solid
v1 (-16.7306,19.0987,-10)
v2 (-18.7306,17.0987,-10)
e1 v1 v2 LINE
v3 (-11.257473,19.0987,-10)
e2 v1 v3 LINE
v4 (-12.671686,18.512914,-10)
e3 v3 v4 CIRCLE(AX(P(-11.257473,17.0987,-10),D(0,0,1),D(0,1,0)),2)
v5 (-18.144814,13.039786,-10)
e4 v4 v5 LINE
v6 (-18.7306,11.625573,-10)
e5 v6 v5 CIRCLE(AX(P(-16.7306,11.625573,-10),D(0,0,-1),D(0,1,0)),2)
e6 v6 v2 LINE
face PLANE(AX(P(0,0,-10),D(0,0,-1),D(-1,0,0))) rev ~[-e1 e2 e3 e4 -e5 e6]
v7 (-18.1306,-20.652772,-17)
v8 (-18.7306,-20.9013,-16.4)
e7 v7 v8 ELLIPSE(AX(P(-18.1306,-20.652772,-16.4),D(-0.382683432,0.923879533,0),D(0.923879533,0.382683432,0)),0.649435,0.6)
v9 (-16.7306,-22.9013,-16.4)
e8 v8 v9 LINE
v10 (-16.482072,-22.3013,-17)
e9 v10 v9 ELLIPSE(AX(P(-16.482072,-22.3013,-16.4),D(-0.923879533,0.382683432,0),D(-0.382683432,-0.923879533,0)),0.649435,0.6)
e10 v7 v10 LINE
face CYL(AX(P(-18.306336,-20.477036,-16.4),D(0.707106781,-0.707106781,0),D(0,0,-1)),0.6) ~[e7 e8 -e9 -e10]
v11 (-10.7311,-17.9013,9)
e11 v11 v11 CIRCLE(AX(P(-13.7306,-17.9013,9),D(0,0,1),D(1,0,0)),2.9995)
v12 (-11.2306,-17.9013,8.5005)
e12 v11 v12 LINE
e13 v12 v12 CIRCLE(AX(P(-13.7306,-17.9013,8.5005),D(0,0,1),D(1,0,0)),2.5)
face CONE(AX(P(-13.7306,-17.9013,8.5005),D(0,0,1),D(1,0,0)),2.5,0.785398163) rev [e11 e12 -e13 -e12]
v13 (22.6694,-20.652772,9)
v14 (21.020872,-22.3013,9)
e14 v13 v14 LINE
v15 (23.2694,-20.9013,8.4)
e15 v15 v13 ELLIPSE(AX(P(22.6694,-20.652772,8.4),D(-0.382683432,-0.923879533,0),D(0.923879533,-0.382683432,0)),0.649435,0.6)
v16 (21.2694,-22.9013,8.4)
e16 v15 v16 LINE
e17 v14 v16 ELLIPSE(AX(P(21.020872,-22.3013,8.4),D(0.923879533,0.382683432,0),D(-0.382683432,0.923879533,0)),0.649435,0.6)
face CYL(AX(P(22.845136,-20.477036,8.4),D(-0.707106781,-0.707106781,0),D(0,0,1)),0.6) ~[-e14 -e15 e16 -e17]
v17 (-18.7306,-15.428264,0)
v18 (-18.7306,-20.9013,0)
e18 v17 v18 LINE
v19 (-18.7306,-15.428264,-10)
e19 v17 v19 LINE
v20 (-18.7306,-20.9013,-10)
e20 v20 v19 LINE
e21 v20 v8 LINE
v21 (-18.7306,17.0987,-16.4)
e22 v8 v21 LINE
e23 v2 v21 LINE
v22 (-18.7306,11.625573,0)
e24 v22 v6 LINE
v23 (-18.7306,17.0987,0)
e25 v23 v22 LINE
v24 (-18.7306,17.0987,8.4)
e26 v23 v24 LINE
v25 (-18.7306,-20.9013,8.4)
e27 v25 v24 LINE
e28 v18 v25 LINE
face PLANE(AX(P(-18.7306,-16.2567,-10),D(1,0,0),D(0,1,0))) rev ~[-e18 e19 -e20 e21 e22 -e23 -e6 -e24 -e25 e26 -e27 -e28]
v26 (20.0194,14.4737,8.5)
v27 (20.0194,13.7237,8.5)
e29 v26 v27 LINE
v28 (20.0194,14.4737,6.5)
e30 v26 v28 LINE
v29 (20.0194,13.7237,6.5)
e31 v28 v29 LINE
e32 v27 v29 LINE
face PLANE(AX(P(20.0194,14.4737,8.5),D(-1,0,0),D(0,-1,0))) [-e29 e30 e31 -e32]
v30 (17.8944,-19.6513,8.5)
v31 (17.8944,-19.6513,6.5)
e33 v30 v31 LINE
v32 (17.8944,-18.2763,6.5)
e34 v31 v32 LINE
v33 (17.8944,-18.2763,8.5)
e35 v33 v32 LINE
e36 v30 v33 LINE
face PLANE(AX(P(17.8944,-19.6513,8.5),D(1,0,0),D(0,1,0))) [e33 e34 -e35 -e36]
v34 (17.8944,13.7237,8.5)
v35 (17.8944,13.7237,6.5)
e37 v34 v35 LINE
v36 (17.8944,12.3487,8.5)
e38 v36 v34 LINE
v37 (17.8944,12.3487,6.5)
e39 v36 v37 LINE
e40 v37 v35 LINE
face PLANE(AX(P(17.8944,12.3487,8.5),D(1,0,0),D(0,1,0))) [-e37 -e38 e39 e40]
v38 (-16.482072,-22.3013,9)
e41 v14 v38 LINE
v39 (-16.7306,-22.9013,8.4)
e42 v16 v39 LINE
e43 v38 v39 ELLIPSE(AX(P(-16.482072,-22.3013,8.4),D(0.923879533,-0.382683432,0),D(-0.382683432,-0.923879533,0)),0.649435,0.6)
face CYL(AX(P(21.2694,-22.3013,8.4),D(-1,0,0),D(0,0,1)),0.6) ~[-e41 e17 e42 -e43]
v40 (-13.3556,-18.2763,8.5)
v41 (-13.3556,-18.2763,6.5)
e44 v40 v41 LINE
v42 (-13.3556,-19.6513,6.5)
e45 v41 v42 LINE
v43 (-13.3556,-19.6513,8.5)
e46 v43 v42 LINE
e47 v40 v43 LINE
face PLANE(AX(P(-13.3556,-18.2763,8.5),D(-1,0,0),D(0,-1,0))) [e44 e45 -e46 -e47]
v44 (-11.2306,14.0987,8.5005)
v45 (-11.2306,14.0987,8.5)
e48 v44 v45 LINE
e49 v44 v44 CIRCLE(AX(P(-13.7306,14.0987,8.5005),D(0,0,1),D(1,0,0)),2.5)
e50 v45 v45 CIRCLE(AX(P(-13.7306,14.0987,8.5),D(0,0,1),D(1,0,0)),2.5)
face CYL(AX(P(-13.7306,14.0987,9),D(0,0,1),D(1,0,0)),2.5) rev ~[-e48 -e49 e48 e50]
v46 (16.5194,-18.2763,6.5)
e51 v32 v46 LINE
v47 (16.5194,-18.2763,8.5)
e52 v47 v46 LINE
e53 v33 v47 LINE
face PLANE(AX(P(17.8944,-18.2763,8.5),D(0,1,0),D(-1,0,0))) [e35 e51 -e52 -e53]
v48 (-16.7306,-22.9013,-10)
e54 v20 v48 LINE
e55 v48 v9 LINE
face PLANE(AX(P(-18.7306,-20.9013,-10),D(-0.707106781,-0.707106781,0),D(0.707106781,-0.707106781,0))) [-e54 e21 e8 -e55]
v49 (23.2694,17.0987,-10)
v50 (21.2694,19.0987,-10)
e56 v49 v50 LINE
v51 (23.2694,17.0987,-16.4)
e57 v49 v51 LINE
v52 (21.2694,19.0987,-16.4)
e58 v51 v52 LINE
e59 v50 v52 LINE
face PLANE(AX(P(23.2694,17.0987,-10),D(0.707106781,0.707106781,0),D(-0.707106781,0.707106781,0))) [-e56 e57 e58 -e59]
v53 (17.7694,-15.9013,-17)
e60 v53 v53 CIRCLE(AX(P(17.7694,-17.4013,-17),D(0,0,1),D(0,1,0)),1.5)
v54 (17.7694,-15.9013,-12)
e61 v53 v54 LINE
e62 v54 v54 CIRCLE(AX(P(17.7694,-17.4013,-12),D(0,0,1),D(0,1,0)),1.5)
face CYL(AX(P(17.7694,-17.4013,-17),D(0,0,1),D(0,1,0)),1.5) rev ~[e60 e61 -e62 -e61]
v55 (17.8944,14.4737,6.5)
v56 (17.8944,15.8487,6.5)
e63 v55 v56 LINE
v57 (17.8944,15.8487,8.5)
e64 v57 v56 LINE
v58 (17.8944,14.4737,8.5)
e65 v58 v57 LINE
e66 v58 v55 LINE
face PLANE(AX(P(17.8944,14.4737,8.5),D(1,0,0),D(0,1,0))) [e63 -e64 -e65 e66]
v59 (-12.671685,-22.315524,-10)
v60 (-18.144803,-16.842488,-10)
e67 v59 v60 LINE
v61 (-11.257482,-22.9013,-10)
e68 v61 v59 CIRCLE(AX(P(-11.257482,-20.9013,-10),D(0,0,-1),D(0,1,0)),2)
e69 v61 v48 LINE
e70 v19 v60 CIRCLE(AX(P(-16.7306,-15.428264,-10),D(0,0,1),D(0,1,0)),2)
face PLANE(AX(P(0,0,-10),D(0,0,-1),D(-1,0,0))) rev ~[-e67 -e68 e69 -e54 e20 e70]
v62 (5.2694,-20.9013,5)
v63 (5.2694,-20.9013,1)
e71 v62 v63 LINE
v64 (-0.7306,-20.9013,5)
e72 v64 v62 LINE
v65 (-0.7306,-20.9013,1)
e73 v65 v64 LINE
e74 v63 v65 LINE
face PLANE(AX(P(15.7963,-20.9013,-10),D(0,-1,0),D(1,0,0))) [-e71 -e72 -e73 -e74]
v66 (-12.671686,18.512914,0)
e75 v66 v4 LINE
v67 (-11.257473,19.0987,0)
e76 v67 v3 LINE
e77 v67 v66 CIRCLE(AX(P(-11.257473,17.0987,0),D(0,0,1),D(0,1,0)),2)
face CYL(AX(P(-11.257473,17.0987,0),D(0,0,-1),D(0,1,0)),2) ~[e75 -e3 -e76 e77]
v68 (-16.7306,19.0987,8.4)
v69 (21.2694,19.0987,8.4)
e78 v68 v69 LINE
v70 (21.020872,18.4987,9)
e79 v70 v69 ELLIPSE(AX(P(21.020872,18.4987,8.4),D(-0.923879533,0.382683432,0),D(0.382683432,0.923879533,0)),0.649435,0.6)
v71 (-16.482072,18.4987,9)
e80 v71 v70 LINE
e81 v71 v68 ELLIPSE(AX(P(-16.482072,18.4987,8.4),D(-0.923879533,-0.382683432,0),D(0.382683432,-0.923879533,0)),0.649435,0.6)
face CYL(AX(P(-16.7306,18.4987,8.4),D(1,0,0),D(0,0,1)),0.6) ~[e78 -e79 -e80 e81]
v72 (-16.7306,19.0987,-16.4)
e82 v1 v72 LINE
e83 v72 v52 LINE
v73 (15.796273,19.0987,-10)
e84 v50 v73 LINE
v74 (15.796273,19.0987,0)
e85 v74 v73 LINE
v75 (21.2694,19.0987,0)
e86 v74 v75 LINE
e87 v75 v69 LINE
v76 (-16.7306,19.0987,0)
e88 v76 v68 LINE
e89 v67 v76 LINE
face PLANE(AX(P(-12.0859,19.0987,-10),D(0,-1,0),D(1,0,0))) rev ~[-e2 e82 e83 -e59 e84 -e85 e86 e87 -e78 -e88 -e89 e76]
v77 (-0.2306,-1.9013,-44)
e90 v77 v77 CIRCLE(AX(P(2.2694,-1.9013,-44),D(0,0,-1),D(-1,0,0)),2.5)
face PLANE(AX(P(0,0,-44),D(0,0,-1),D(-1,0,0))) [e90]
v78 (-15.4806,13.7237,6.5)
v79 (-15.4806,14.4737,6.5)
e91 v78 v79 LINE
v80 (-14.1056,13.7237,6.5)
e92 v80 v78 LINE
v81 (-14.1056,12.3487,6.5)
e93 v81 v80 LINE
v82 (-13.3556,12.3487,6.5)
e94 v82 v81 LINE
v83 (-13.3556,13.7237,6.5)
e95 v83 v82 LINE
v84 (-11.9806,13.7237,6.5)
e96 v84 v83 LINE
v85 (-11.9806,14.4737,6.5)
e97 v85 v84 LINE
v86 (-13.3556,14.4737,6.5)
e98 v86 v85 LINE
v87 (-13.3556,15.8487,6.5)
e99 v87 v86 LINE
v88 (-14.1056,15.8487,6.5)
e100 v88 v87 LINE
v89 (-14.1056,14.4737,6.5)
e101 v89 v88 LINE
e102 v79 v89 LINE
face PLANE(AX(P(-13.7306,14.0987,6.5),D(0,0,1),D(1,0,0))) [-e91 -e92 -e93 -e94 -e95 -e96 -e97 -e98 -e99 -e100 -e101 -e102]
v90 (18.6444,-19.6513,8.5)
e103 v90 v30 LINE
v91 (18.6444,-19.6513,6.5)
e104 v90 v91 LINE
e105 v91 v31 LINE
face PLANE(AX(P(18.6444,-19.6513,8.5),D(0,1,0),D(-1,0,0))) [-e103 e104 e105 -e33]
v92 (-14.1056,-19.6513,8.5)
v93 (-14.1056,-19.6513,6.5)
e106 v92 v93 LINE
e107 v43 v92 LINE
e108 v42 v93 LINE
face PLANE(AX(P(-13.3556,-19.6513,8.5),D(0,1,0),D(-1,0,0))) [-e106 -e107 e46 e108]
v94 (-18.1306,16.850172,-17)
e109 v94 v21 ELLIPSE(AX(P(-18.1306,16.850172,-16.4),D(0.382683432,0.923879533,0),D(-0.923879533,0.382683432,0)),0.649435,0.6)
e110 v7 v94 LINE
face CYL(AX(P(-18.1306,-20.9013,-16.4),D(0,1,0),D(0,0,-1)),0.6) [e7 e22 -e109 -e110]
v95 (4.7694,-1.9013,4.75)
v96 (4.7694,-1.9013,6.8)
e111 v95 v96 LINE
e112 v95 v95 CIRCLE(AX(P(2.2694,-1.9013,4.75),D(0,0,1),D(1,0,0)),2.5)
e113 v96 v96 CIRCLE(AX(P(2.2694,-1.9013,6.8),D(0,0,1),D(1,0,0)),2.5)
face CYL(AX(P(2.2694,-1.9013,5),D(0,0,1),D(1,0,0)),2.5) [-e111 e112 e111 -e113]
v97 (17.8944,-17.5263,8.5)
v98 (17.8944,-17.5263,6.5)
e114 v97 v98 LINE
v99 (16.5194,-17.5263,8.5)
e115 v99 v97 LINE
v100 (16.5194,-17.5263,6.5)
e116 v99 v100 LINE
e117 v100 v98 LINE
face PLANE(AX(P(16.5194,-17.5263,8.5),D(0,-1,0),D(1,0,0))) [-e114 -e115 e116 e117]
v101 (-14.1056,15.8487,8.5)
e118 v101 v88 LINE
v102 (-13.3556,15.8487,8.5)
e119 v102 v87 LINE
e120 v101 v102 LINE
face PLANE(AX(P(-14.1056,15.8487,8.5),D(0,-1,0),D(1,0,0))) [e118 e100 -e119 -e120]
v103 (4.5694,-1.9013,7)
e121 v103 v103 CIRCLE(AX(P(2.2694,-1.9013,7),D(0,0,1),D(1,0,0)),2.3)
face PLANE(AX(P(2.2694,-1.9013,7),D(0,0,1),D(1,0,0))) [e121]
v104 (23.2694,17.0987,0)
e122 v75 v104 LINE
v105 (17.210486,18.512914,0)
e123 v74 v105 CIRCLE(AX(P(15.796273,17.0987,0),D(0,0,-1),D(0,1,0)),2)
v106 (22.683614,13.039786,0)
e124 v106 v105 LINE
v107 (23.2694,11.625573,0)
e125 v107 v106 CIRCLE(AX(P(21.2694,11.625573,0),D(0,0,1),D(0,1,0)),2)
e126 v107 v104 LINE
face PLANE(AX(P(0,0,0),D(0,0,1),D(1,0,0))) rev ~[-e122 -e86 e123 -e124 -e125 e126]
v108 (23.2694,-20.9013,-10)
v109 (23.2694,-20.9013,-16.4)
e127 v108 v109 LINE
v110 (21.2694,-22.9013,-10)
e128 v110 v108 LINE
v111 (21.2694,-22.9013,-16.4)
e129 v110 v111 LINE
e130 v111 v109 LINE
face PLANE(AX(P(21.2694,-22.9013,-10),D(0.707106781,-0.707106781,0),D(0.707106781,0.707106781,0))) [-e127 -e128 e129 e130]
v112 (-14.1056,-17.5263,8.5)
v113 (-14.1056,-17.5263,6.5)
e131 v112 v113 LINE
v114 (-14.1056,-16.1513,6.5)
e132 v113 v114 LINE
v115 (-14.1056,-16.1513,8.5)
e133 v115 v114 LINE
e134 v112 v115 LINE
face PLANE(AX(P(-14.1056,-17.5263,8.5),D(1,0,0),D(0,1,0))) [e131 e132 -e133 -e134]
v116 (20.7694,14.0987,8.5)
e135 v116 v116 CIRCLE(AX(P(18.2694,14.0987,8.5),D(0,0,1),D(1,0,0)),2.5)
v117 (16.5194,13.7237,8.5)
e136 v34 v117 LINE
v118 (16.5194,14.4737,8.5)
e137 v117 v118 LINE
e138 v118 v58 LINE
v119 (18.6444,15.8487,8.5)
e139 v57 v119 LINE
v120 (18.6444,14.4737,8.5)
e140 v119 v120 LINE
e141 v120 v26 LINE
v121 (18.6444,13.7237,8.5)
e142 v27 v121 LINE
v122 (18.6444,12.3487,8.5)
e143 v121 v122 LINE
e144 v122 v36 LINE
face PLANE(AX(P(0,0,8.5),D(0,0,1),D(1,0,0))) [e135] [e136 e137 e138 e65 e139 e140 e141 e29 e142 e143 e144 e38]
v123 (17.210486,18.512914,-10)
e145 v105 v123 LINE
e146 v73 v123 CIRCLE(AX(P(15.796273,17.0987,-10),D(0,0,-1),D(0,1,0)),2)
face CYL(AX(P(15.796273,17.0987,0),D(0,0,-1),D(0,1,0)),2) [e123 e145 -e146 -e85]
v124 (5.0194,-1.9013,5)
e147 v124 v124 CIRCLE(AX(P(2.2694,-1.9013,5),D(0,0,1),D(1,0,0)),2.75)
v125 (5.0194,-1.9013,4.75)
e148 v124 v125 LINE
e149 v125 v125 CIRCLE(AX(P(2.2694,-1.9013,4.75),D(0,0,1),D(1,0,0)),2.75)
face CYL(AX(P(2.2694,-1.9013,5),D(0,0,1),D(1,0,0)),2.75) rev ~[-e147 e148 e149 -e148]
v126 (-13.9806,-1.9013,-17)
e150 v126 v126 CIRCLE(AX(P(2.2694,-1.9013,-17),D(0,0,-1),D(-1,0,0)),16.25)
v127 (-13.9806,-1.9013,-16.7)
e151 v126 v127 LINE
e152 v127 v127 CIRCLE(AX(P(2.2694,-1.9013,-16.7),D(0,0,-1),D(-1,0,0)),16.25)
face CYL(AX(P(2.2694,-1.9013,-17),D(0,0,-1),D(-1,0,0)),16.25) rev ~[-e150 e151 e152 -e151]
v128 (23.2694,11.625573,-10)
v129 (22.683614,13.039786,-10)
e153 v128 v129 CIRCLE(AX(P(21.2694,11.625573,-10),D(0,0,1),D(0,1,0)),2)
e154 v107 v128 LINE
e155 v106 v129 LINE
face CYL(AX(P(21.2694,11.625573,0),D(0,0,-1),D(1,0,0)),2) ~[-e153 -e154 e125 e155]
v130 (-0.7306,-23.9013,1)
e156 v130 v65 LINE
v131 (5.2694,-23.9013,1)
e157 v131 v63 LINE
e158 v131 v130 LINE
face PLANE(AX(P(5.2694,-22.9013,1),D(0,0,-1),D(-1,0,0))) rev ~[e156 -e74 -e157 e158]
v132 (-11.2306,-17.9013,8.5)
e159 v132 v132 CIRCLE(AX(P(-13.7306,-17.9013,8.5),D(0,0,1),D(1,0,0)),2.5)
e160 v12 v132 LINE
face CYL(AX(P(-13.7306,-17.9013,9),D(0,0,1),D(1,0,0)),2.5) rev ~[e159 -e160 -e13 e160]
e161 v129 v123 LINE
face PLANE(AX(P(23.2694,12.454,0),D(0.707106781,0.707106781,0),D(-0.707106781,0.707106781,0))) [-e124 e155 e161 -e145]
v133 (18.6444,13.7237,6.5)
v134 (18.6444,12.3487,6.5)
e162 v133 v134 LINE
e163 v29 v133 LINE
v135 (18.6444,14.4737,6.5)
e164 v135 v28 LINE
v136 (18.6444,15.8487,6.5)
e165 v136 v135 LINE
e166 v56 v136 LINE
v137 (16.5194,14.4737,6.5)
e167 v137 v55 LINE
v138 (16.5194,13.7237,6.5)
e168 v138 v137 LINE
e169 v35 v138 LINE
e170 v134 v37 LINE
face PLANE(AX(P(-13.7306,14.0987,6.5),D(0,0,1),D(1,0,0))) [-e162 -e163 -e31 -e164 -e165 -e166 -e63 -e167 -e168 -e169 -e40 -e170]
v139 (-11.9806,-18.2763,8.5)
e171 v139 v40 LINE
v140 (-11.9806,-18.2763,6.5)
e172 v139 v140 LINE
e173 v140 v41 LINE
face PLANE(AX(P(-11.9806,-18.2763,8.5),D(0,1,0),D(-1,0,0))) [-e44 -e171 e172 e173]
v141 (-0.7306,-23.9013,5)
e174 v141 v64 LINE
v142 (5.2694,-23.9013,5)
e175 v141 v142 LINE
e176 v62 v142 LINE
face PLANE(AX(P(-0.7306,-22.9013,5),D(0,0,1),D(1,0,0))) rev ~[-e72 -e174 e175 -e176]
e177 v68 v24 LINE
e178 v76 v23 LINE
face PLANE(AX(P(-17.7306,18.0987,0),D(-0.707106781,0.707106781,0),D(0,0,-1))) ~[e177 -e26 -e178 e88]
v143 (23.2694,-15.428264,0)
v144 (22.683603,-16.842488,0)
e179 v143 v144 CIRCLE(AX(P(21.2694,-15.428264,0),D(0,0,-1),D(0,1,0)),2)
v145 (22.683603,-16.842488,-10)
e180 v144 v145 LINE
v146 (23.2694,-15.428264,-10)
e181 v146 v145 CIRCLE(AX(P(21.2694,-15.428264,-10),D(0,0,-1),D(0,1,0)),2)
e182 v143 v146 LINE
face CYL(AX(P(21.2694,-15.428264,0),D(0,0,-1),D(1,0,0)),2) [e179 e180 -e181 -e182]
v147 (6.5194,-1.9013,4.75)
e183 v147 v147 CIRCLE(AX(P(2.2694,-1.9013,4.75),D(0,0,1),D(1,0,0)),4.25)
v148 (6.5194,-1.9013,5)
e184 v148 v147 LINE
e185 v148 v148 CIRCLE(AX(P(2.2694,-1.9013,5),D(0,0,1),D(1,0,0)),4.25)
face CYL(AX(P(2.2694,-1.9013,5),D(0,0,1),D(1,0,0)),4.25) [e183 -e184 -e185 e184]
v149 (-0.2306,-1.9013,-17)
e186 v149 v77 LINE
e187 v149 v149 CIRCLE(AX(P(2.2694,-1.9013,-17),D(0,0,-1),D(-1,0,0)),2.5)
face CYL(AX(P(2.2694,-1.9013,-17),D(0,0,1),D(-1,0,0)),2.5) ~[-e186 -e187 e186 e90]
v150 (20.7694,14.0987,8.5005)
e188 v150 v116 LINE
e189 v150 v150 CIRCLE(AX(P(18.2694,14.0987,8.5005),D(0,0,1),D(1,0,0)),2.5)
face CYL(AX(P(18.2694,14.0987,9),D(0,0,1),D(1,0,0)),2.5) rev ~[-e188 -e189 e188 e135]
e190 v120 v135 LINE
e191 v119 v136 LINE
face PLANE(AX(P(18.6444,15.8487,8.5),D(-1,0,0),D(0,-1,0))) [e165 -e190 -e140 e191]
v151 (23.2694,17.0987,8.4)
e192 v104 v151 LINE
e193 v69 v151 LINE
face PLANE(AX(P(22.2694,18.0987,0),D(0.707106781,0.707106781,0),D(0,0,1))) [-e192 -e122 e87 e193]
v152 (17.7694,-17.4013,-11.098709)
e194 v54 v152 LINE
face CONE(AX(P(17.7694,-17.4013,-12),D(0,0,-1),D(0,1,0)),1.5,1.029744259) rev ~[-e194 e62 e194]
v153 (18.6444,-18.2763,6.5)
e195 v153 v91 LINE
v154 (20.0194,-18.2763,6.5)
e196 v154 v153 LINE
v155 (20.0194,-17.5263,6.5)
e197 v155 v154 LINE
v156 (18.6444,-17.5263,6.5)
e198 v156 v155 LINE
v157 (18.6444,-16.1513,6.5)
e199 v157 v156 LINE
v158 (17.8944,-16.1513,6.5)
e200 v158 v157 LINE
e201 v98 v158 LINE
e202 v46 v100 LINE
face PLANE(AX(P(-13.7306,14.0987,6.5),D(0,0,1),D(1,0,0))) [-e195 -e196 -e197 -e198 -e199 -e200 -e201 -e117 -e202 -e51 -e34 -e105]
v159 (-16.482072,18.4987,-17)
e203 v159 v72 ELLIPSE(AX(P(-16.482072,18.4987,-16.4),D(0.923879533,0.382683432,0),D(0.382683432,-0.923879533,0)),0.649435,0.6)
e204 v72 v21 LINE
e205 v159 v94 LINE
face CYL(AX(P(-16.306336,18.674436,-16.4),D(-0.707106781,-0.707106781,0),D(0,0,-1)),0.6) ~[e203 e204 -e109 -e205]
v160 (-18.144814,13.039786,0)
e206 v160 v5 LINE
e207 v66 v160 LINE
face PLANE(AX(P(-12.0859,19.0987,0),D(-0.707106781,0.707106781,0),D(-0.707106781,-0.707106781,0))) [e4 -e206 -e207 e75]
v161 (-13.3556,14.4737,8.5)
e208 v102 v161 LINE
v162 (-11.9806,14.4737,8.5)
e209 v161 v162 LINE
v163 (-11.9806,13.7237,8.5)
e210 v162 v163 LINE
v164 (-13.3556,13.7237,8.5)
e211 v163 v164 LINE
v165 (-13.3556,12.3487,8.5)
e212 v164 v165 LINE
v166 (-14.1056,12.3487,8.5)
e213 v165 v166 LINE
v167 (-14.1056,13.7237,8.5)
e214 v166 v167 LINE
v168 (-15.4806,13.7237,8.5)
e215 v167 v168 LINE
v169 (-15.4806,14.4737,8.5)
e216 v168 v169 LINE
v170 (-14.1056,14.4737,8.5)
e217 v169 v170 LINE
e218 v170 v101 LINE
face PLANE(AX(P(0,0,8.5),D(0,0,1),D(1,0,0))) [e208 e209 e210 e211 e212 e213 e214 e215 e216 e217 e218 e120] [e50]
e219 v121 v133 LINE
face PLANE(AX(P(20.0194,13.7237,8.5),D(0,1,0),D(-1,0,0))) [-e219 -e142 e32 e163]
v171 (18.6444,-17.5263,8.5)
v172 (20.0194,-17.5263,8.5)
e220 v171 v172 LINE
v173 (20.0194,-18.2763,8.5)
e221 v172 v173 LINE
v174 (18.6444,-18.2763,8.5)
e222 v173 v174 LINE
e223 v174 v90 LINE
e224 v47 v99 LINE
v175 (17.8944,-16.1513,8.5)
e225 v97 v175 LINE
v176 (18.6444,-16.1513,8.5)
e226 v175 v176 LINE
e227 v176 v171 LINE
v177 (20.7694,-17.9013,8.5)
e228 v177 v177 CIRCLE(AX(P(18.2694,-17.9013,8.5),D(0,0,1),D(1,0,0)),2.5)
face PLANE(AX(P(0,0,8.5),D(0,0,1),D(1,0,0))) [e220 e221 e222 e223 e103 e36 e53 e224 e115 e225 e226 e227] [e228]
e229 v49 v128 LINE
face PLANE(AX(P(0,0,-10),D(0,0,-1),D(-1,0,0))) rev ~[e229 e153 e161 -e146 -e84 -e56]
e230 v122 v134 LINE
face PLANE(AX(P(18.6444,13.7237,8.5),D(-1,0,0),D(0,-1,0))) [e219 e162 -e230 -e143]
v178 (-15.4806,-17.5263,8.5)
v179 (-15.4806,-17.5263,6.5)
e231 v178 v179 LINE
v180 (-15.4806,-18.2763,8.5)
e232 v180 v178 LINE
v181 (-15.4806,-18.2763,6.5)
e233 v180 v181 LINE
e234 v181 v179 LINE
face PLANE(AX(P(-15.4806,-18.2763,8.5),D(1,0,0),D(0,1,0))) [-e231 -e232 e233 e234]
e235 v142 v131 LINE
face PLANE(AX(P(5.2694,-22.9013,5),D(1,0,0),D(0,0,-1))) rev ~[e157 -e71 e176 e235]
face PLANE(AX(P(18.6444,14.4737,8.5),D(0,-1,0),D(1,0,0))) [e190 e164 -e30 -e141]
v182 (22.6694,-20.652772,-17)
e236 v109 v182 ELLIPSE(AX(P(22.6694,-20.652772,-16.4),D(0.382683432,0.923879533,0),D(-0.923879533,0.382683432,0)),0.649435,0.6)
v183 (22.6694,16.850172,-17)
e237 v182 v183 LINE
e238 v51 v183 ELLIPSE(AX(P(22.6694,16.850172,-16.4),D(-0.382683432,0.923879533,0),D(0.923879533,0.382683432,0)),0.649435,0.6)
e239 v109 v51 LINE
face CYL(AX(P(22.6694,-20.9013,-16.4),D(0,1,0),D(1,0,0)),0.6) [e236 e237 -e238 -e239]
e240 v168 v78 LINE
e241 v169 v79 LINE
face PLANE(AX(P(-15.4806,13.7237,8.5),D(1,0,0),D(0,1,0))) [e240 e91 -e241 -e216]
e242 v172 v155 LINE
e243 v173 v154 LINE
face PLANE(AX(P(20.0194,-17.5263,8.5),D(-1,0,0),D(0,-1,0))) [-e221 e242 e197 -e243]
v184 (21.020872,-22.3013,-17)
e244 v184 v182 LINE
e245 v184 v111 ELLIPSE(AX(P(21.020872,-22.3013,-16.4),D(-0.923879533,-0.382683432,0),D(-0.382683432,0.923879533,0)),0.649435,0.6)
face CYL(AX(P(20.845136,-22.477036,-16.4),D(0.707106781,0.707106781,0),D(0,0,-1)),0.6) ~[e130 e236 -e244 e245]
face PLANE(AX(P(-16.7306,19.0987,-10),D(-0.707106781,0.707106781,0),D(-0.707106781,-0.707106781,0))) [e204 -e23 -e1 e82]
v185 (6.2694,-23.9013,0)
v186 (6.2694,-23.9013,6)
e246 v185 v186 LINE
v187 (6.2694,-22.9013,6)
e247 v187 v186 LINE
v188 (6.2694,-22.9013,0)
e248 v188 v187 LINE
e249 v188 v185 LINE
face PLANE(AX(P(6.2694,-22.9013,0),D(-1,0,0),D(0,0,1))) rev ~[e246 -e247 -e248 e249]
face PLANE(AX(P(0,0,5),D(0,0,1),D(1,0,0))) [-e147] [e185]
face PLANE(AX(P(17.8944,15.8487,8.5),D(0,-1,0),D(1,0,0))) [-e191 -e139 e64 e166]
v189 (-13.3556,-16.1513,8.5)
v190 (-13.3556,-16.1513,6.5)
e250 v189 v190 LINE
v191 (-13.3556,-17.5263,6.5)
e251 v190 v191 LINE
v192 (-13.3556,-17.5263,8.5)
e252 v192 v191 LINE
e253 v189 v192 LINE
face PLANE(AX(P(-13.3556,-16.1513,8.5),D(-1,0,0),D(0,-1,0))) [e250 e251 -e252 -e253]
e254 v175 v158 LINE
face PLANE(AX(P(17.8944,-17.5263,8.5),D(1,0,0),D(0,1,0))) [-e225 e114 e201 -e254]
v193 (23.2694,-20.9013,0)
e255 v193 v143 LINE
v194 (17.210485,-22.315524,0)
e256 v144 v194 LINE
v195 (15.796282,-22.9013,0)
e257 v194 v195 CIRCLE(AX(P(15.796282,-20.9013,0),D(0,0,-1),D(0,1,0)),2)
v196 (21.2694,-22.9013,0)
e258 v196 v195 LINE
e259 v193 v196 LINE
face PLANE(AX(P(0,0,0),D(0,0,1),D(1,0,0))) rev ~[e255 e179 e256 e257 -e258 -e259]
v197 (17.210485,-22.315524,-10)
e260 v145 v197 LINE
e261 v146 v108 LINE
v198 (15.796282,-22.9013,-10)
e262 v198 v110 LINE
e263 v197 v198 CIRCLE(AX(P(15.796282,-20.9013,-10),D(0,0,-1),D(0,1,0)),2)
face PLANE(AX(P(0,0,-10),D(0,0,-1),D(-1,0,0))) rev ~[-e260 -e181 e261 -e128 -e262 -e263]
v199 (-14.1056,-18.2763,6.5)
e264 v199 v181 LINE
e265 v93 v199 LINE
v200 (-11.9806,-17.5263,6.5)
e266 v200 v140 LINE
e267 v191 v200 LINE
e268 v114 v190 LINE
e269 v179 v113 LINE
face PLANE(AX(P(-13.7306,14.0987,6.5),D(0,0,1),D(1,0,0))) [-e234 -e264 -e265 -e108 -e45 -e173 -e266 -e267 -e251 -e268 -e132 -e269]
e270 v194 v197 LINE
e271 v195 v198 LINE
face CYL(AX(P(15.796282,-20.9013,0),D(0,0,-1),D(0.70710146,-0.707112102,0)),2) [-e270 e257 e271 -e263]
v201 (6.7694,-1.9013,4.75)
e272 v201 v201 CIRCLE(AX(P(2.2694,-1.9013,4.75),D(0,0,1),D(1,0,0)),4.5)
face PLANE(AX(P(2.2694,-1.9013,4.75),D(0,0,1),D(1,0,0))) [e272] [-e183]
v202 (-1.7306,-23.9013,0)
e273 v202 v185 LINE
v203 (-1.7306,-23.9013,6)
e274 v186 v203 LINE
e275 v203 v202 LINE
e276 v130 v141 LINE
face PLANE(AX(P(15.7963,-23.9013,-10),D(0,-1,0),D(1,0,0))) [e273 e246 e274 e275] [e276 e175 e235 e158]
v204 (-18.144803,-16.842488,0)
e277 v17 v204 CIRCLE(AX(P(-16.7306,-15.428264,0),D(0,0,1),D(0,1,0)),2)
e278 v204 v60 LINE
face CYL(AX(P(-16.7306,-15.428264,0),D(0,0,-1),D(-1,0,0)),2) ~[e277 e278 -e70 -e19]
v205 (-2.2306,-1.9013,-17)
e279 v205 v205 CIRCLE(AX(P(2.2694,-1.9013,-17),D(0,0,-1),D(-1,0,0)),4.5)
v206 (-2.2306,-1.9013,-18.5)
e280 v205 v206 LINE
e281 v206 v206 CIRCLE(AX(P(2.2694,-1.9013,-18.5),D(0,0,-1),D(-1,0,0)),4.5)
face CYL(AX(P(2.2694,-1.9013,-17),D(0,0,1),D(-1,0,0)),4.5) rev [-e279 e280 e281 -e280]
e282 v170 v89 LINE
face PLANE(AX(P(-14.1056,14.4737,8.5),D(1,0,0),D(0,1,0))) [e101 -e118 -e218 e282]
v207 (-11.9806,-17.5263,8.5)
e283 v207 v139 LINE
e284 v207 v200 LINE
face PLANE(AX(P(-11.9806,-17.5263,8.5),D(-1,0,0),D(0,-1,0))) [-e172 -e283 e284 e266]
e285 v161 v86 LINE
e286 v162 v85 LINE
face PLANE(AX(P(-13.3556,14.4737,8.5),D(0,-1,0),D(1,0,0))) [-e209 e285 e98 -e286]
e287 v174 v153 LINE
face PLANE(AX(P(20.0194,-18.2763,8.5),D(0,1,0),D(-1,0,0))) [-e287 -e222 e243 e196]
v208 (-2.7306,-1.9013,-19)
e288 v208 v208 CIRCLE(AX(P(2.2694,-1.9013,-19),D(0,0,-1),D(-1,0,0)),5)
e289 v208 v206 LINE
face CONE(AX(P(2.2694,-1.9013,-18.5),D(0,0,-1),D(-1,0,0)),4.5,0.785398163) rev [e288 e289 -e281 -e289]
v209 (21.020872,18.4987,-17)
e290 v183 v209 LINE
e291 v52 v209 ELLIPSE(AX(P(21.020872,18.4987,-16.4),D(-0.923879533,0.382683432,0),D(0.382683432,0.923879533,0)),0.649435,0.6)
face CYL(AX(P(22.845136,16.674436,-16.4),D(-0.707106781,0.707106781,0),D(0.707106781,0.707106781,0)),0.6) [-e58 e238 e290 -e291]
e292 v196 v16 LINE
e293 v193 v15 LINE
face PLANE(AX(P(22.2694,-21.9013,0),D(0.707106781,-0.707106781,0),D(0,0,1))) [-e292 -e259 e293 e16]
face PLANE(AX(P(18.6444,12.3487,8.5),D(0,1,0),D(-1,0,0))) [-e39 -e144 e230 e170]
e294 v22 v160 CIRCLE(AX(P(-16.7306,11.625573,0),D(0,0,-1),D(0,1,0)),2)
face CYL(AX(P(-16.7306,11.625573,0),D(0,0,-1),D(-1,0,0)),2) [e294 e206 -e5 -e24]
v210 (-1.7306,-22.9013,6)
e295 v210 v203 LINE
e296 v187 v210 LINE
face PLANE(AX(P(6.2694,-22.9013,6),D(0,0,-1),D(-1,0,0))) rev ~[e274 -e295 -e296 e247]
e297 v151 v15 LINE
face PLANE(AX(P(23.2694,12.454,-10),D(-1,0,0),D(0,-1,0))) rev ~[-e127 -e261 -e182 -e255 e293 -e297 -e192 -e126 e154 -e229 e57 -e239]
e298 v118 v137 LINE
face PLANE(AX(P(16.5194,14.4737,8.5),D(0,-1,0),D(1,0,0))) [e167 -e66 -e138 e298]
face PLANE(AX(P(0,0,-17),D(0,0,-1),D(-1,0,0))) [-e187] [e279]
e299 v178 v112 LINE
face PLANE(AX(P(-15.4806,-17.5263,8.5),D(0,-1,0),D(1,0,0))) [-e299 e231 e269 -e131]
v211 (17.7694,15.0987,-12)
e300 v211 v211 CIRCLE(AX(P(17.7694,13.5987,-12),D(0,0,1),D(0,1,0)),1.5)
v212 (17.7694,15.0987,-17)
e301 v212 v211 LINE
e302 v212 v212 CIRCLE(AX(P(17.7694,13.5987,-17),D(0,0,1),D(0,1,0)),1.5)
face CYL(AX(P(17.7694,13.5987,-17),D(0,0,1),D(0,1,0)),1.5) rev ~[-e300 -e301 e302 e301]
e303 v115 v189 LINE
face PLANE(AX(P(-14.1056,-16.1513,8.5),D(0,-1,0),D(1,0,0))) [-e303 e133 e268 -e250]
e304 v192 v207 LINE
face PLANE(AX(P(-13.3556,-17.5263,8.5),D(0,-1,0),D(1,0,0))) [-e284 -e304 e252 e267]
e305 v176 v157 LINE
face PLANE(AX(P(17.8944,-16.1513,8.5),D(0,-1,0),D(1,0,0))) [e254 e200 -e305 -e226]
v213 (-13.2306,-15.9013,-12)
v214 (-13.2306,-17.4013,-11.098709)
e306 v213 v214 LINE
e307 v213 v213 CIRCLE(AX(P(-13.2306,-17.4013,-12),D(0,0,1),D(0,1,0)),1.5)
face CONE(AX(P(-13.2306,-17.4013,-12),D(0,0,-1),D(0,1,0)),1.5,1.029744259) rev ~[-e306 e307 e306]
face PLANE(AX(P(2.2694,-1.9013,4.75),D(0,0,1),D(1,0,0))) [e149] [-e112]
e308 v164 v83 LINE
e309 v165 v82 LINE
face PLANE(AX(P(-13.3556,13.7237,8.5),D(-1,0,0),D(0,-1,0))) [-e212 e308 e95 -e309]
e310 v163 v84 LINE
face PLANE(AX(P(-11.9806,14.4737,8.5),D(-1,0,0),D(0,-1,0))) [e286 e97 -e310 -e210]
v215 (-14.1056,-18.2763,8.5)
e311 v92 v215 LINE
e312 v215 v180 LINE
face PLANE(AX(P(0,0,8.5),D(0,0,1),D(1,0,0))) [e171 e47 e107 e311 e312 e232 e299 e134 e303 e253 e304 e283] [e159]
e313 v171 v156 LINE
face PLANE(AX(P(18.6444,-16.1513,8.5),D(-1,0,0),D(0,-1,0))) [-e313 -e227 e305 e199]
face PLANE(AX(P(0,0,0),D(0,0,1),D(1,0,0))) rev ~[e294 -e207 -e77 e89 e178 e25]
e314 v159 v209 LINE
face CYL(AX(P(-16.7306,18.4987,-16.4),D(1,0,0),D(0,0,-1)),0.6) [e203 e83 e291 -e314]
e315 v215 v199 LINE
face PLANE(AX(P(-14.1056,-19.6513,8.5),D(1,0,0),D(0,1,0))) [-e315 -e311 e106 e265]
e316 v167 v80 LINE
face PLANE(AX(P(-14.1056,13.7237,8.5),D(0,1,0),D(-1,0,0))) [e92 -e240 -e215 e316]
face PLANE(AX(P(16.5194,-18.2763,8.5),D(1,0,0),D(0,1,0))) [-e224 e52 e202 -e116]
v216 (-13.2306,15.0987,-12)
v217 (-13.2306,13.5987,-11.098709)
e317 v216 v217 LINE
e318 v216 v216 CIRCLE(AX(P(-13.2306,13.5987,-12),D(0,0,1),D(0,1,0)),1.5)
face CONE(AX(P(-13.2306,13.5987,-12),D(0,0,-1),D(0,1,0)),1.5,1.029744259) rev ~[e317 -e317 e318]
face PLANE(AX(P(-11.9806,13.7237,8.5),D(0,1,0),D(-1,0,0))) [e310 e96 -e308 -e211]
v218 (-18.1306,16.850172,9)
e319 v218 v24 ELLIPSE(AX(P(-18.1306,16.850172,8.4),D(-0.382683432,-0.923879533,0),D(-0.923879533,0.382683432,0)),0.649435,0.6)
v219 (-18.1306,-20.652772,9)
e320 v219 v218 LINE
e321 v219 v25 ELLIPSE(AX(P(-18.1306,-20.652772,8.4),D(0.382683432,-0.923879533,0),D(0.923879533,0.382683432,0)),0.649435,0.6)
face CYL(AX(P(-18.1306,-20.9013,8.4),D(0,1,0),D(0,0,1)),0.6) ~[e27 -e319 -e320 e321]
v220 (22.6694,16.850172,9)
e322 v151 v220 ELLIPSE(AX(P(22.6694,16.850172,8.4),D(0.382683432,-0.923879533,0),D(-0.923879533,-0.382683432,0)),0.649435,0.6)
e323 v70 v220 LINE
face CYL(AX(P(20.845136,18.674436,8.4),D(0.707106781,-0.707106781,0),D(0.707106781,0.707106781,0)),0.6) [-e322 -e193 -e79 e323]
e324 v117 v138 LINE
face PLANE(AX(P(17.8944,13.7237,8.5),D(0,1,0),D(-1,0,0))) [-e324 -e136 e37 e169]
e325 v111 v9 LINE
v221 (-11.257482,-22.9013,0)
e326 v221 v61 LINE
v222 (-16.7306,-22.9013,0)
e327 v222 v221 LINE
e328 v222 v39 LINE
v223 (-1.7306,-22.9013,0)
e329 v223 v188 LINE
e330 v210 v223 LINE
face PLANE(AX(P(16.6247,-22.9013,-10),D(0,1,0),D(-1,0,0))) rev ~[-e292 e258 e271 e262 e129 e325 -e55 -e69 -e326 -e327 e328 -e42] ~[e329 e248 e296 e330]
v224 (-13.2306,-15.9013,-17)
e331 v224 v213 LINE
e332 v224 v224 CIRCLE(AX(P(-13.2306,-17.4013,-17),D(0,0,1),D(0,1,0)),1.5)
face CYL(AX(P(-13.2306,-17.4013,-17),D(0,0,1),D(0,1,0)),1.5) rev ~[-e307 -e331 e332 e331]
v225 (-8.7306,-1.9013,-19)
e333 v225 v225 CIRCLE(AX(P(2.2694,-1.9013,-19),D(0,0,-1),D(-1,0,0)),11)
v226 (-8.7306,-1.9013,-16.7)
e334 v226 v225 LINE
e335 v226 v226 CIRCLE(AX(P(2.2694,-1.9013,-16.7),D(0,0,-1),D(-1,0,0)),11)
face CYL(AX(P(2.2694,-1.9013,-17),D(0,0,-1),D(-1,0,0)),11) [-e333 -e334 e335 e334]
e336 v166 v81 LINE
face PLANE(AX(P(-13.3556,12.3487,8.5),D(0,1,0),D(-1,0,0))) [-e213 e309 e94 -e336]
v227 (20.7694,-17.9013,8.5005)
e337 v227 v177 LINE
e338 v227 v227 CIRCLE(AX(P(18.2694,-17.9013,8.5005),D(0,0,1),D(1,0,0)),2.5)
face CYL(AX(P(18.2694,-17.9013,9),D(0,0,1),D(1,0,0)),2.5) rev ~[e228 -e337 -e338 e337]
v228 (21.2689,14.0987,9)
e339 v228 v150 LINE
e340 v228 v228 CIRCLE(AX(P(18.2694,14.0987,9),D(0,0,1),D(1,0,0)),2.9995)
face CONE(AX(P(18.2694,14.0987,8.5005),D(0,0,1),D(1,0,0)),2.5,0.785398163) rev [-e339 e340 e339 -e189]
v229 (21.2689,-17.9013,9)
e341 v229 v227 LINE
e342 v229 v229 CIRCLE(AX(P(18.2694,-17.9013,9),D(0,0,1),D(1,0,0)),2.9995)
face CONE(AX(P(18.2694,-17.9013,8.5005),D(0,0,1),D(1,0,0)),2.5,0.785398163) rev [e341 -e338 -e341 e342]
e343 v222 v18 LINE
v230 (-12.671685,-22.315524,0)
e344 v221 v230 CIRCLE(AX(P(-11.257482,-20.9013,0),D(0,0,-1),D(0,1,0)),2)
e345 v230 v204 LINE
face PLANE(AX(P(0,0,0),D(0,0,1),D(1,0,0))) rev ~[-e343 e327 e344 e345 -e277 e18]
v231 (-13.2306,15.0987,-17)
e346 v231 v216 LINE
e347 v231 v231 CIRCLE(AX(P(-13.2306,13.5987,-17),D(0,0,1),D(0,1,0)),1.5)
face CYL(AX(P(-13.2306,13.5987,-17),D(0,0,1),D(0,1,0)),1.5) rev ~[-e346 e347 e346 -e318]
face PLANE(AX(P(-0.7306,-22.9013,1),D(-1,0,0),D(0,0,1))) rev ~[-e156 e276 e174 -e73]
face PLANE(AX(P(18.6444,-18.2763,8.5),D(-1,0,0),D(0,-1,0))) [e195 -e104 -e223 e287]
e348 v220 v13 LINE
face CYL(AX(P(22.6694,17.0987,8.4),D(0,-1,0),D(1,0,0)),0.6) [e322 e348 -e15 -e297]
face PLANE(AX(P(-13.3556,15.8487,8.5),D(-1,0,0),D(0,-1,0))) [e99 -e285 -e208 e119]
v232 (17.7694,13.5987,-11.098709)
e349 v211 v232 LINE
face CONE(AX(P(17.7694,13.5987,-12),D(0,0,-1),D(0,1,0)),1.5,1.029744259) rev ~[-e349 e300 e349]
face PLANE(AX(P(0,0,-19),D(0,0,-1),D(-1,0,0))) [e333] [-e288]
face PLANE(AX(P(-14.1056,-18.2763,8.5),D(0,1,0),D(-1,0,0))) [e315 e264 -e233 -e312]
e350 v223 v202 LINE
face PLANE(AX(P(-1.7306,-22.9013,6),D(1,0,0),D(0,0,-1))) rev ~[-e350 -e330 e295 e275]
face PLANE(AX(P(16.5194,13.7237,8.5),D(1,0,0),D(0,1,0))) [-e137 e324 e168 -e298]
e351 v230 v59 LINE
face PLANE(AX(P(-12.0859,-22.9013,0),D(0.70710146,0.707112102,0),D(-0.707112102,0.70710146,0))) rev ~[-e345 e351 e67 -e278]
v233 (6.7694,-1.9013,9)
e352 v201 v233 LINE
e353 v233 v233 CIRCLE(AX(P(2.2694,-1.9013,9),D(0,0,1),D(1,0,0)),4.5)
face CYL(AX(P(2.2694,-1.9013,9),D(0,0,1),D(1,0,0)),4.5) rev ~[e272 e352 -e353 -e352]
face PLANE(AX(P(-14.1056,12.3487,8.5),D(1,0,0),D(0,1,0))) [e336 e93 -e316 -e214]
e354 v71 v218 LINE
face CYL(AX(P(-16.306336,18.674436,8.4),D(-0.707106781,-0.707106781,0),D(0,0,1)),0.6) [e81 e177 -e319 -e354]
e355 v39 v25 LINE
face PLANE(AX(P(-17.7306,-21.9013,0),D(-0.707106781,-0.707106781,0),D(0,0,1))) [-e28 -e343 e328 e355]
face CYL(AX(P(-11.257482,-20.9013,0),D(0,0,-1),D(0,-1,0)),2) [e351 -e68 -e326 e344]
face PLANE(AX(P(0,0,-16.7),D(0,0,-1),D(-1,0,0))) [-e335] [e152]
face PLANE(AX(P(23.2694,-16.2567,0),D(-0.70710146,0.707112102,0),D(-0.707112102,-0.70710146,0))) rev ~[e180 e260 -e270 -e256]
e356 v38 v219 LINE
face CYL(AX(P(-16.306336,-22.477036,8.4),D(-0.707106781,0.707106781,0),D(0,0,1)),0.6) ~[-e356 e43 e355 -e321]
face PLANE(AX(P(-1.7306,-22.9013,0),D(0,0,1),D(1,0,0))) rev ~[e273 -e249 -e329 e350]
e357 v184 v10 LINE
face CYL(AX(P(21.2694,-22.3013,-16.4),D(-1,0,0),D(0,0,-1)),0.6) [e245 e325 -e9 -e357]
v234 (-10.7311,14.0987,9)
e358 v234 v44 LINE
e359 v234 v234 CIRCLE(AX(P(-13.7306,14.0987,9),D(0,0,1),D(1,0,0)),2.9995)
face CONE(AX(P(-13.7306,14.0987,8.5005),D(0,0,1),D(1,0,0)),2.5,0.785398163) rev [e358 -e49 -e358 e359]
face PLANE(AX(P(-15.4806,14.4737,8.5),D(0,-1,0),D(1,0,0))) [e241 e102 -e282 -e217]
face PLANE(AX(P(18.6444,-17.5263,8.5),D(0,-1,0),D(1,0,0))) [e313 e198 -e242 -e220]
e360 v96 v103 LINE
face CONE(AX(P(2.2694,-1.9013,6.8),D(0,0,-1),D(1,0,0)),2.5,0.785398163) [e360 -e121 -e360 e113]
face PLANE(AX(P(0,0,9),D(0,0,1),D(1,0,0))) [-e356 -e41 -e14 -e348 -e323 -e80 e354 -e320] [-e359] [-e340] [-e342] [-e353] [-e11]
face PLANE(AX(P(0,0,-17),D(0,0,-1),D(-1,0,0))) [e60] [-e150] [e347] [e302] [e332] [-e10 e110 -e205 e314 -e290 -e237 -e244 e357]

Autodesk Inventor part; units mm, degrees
ref_plane "YZ Plane" through (0, 0, 0) normal (1, 0, 0) x (0, 1, 0)
ref_plane "XZ Plane" through (0, 0, 0) normal (0, 1, 0) x (-1, 0, 0)
ref_plane "XY Plane" through (0, 0, 0) normal (0, 0, 1) x (1, 0, 0)
sketch "Szkic1" plane through (0, 0, 0) normal (0, 0, 1) x (1, 0, 0)
  line L0 (-18.7306, 19.0987) -> (23.2694, 19.0987)
  line L1 (23.2694, 19.0987) -> (23.2694, -22.9013)
  line L2 (23.2694, -22.9013) -> (-18.7306, -22.9013)
  line L3 (-18.7306, -22.9013) -> (-18.7306, 19.0987)
  point P0 (0, 0)
  dimension "d0" = 42
  dimension "d1" = 42
extrude "Wyciągnięcie proste1" add sketch "Szkic1" along normal blind 9
chamfer "Faza1" distance 2 angle 45 4 edges at (23.2694, 19.0987, 4.5) (-18.7306, 19.0987, 4.5) (-18.7306, -22.9013, 4.5) (23.2694, -22.9013, 4.5)
sketch "Szkic2" plane through (0, 0, 0) normal (0, 0, -1) x (-1, 0, 0)
  line L0 (-21.2694, -22.9013) -> (-23.2694, -20.9013) projected
  line L1 (-21.2694, -22.9013) -> (16.7306, -22.9013) projected
  line L2 (18.7306, -20.9013) -> (16.7306, -22.9013) projected
  line L3 (18.7306, -20.9013) -> (18.7306, 17.0987) projected
  line L4 (16.7306, 19.0987) -> (18.7306, 17.0987) projected
  line L5 (16.7306, 19.0987) -> (-21.2694, 19.0987) projected
  line L6 (-23.2694, 17.0987) -> (-21.2694, 19.0987) projected
  line L7 (-23.2694, 17.0987) -> (-23.2694, -20.9013) projected
  line L8 (12.0859, 19.0987) -> (-16.6247, 19.0987)
  line L9 (-23.2694, -16.2567) -> (-16.6247, -22.9013)
  line L10 (12.0859, -22.9013) -> (18.7306, -16.2567)
  line L11 (-23.2694, 12.454) -> (-16.6247, 19.0987)
  line L12 (12.0859, 19.0987) -> (18.7306, 12.454)
  line L13 (-16.6247, 19.0987) -> (12.0859, 19.0987)
  line L14 (-23.2694, 17.0987) -> (-23.2694, -20.9013) projected
  line L15 (-23.2694, 12.454) -> (-23.2694, -16.2567)
  line L16 (-23.2694, -16.2567) -> (-23.2694, 12.454)
  line L17 (-16.6247, -22.9013) -> (12.0859, -22.9013)
  line L18 (-16.6247, -22.9013) -> (12.0859, -22.9013)
  line L19 (18.7306, -16.2567) -> (18.7306, 12.454)
  point P0 (0, 0)
  point P1 (-2.2694, -1.9013)
  dimension "d9" = 21
  dimension "d10" = 42
  dimension "d11" = 21
  dimension "d12" = 25
  dimension "d13" = 25
  dimension "d14" = 25
  dimension "d15" = 25
extrude "Wyciągnięcie proste3" add sketch "Szkic2" along normal blind 10 contours L9 L7 L11 L5 L12 L3 L10 L1
sketch "Szkic3" plane through (0, 0, -10) normal (0, 0, -1) x (-1, 0, 0)
  line L0 (-23.2694, -16.2567) -> (-16.6247, -22.9013) projected
  line L1 (-16.6247, -22.9013) -> (12.0859, -22.9013) projected
  line L2 (12.0859, -22.9013) -> (18.7306, -16.2567) projected
  line L3 (18.7306, -16.2567) -> (18.7306, 12.454) projected
  line L4 (18.7306, 12.454) -> (12.0859, 19.0987) projected
  line L5 (12.0859, 19.0987) -> (-16.6247, 19.0987) projected
  line L6 (-16.6247, 19.0987) -> (-23.2694, 12.454) projected
  line L7 (-23.2694, 12.454) -> (-23.2694, -16.2567) projected
  line L8 (-23.2694, 12.454) -> (-16.6247, 19.0987) projected
  line L9 (-16.6247, 19.0987) -> (-21.2694, 19.0987) projected
  line L10 (-23.2694, 17.0987) -> (-21.2694, 19.0987) projected
  line L11 (-23.2694, 17.0987) -> (-23.2694, 12.454) projected
  line L12 (-16.6247, -22.9013) -> (-23.2694, -16.2567) projected
  line L13 (-23.2694, -16.2567) -> (-23.2694, -20.9013) projected
  line L14 (-21.2694, -22.9013) -> (-23.2694, -20.9013) projected
  line L15 (-21.2694, -22.9013) -> (-16.6247, -22.9013) projected
  line L16 (18.7306, -16.2567) -> (12.0859, -22.9013) projected
  line L17 (12.0859, -22.9013) -> (16.7306, -22.9013) projected
  line L18 (18.7306, -20.9013) -> (16.7306, -22.9013) projected
  line L19 (18.7306, -20.9013) -> (18.7306, -16.2567) projected
  line L20 (12.0859, 19.0987) -> (18.7306, 12.454) projected
  line L21 (18.7306, 12.454) -> (18.7306, 17.0987) projected
  line L22 (16.7306, 19.0987) -> (18.7306, 17.0987) projected
  line L23 (16.7306, 19.0987) -> (12.0859, 19.0987) projected
  line L24 (-23.2694, 19.0987) -> (-23.2694, -22.9013)
  line L25 (-23.2694, -22.9013) -> (18.7306, -22.9013)
  line L26 (18.7306, -22.9013) -> (18.7306, 19.0987)
  line L27 (18.7306, 19.0987) -> (-23.2694, 19.0987)
  point P0 (0, 0)
extrude "Wyciągnięcie proste4" add sketch "Szkic3" along normal blind 7 contours L7 L6 L5 L4 L3 L2 L1 L0 | L0 L15 L14 L13 | L11 L10 L9 L6 | L2 L19 L18 L17 | L23 L22 L21 L4
fillet "Zaokrąglenie1" radius 2 8 edges at (-18.7306, 12.454, -5) (-12.0859, 19.0987, -5) (16.6247, 19.0987, -5) (23.2694, 12.454, -5) (-18.7306, -16.2567, -5) (-12.0859, -22.9013, -5) (16.6247, -22.9013, -5) (23.2694, -16.2567, -5)
sketch "Szkic4" plane through (0, 0, 9) normal (0, 0, 1) x (1, 0, 0)
  line L0 (-18.7306, 17.0987) -> (-18.7306, -20.9013) projected
  line L1 (23.2694, -20.9013) -> (23.2694, 17.0987) projected
  line L2 (21.2694, 19.0987) -> (-16.7306, 19.0987) projected
  circle A0 centre (2.2694, -1.9013) radius 4.5
  line L3 (23.2694, 19.0987) -> (-18.7306, 19.0987)
  line L4 (23.2694, -22.9013) -> (-18.7306, -22.9013)
  line L5 (21.2694, -22.9013) -> (-16.7306, -22.9013) projected
  line L6 (-18.7306, -22.9013) -> (-18.7306, 19.0987)
  line L7 (23.2694, 19.0987) -> (23.2694, -22.9013)
  circle A1 centre (-13.7306, 14.0987) radius 2.5
  circle A2 centre (-13.7306, -17.9013) radius 2.5
  circle A3 centre (18.2694, -17.9013) radius 2.5
  circle A4 centre (18.2694, 14.0987) radius 2.5
  circle A5 centre (2.2694, -1.9013) radius 2.5
  circle A6 centre (2.2694, -1.9013) radius 4.25
  circle A7 centre (2.2694, -1.9013) radius 2.75
  point P0 (0, 0)
  dimension "d21" = 42
  dimension "d22" = 21
  dimension "d23" = 21
  dimension "d24" = 9
  dimension "d56" = 5
  dimension "d57" = 5
  dimension "d58" = 5
  dimension "d59" = 5
  dimension "d60" = 5
  dimension "d61" = 5
  dimension "d62" = 5
  dimension "d63" = 5
  dimension "d64" = 5
  dimension "d65" = 5
  dimension "d66" = 5
  dimension "d67" = 5
  dimension "d68" = 5
  dimension "d69" = 8.5
  dimension "d70" = 5.5
extrude "Wyciągnięcie proste5" cut sketch "Szkic4" against normal blind 4 contours A0 | A5 | A6 | A7
fillet "Zaokrąglenie2" radius 0.6 16 edges at (23.2694, -1.9013, 9) (2.2694, -22.9013, 9) (-18.7306, -1.9013, 9) (2.2694, 19.0987, 9) (22.2694, -21.9013, 9) (-17.7306, -21.9013, 9) (-17.7306, 18.0987, 9) (22.2694, 18.0987, 9) (23.2694, -1.9013, -17) (22.2694, 18.0987, -17) (2.2694, 19.0987, -17) (-17.7306, 18.0987, -17) (-18.7306, -1.9013, -17) (-17.7306, -21.9013, -17) (2.2694, -22.9013, -17) (22.2694, -21.9013, -17)
sketch "Szkic5" plane through (0, 0, -17) normal (0, 0, -1) x (-1, 0, 0)
  circle A0 centre (-2.2694, -1.9013) radius 4.5 projected
  line L0 (-21.2694, -22.9013) -> (16.7306, -22.9013) projected
  line L1 (16.7306, -22.9013) -> (18.7306, -20.9013) projected
  line L2 (18.7306, -20.9013) -> (18.7306, 17.0987) projected
  line L3 (18.7306, 17.0987) -> (16.7306, 19.0987) projected
  line L4 (16.7306, 19.0987) -> (-21.2694, 19.0987) projected
  line L5 (-21.2694, 19.0987) -> (-23.2694, 17.0987) projected
  line L6 (-23.2694, 17.0987) -> (-23.2694, -20.9013) projected
  line L7 (-23.2694, -20.9013) -> (-21.2694, -22.9013) projected
  line L8 (18.7306, -22.9013) -> (18.7306, 19.0987)
  line L9 (18.7306, 19.0987) -> (-23.2694, 19.0987)
  line L10 (-23.2694, 19.0987) -> (-23.2694, -22.9013)
  line L11 (-23.2694, -22.9013) -> (18.7306, -22.9013)
  circle A1 centre (-2.2694, -1.9013) radius 11
  circle A2 centre (-2.2694, -1.9013) radius 16.25
  circle A3 centre (-2.2694, -1.9013) radius 2.5
  point P0 (0, 0)
  point P1 (13.2306, -17.4013)
  point P2 (13.2306, 13.5987)
  point P3 (-17.7694, 13.5987)
  point P4 (-17.7694, -17.4013)
  dimension "d28" = 42
  dimension "d29" = 5.5
  dimension "d30" = 5.5
  dimension "d31" = 5.5
  dimension "d32" = 5.5
  dimension "d33" = 5.5
  dimension "d34" = 5.5
  dimension "d35" = 5.5
  dimension "d36" = 5.5
  dimension "d37" = 22
  dimension "d38" = 32.5
  dimension "d53" = 5
  dimension "d117" = 21
  dimension "d118" = 21
extrude "Wyciągnięcie proste6" cut sketch "Szkic5" against normal blind 0.3 contours A2
extrude "Wyciągnięcie proste7" add sketch "Szkic5" along normal blind 2 contours A1
chamfer "Faza2" distance 0.5 angle 45 1 edges at (6.7694, -1.9013, -19)
hole "Otwór1" at (-13.2306, -17.4013, -17) at (-13.2306, 13.5987, -17) at (17.7694, 13.5987, -17) at (17.7694, -17.4013, -17) direction (0, 0, 1) diameter 3 depth 5 tip angle 118
extrude "Wyciągnięcie proste8" add sketch "Szkic5" along normal blind 27 contours A3
extrude "Wyciągnięcie proste9" cut sketch "Szkic4" against normal blind 0.5 contours A1 | A2 | A3 | A4
chamfer "Faza3" distance 0.5 angle 45 4 edges at (-16.2306, 14.0987, 9) (15.7694, 14.0987, 9) (15.7694, -17.9013, 9) (-16.2306, -17.9013, 9)
sketch "Szkic6" plane through (2.2694, -1.9013, 5) normal (0, 0, 1) x (1, 0, 0)
  circle A0 centre (0, 0) radius 4.5 projected
  circle A1 centre (0, 0) radius 2.5 projected
  circle A2 centre (0, 0) radius 4.25
  circle A3 centre (0, 0) radius 2.75
  point P0 (-2.2694, 1.9013)
  dimension "d76" = 0.25
  dimension "d77" = 0.25
extrude "Wyciągnięcie proste10" add sketch "Szkic6" along normal blind 2 contours A1
extrude "Wyciągnięcie proste11" cut sketch "Szkic6" against normal blind 0.25
chamfer "Faza4" distance 0.2 angle 45 1 edges at (-0.2306, -1.9013, 7)
sketch "Szkic7" plane through (-13.7306, 14.0987, 8.5) normal (0, 0, 1) x (1, 0, 0)
  circle A0 centre (0, 0) radius 2.5 projected
  circle A1 centre (32, 0) radius 2.5 projected
  circle A2 centre (32, -32) radius 2.5 projected
  circle A3 centre (0, -32) radius 2.5 projected
  line L0 (-0.375, 1.75) -> (0.375, 1.75)
  line L1 (0.375, -1.75) -> (-0.375, -1.75)
  line L2 (1.75, 0.375) -> (1.75, -0.375)
  line L3 (-1.75, -0.375) -> (-1.75, 0.375)
  line L4 (-1.75, 0.375) -> (-0.375, 0.375)
  line L5 (0.375, 0.375) -> (1.75, 0.375)
  line L6 (-0.375, -1.75) -> (-0.375, -0.375)
  line L7 (-0.375, 0.375) -> (-0.375, 1.75)
  line L8 (1.75, -0.375) -> (0.375, -0.375)
  line L9 (-0.375, -0.375) -> (-1.75, -0.375)
  line L10 (0.375, 1.75) -> (0.375, 0.375)
  line L11 (0.375, -0.375) -> (0.375, -1.75)
  line L12 (31.625, 1.75) -> (32.375, 1.75)
  line L13 (32.375, -1.75) -> (31.625, -1.75)
  line L14 (33.75, 0.375) -> (33.75, -0.375)
  line L15 (30.25, -0.375) -> (30.25, 0.375)
  line L16 (30.25, 0.375) -> (31.625, 0.375)
  line L17 (32.375, 0.375) -> (33.75, 0.375)
  line L18 (31.625, -1.75) -> (31.625, -0.375)
  line L19 (31.625, 0.375) -> (31.625, 1.75)
  line L20 (33.75, -0.375) -> (32.375, -0.375)
  line L21 (31.625, -0.375) -> (30.25, -0.375)
  line L22 (32.375, 1.75) -> (32.375, 0.375)
  line L23 (32.375, -0.375) -> (32.375, -1.75)
  line L24 (-0.375, -30.25) -> (0.375, -30.25)
  line L25 (0.375, -33.75) -> (-0.375, -33.75)
  line L26 (1.75, -31.625) -> (1.75, -32.375)
  line L27 (-1.75, -32.375) -> (-1.75, -31.625)
  line L28 (-1.75, -31.625) -> (-0.375, -31.625)
  line L29 (0.375, -31.625) -> (1.75, -31.625)
  line L30 (-0.375, -33.75) -> (-0.375, -32.375)
  line L31 (-0.375, -31.625) -> (-0.375, -30.25)
  line L32 (1.75, -32.375) -> (0.375, -32.375)
  line L33 (-0.375, -32.375) -> (-1.75, -32.375)
  line L34 (0.375, -30.25) -> (0.375, -31.625)
  line L35 (0.375, -32.375) -> (0.375, -33.75)
  line L36 (31.625, -30.25) -> (32.375, -30.25)
  line L37 (32.375, -33.75) -> (31.625, -33.75)
  line L38 (33.75, -31.625) -> (33.75, -32.375)
  line L39 (30.25, -32.375) -> (30.25, -31.625)
  line L40 (30.25, -31.625) -> (31.625, -31.625)
  line L41 (32.375, -31.625) -> (33.75, -31.625)
  line L42 (31.625, -33.75) -> (31.625, -32.375)
  line L43 (31.625, -31.625) -> (31.625, -30.25)
  line L44 (33.75, -32.375) -> (32.375, -32.375)
  line L45 (31.625, -32.375) -> (30.25, -32.375)
  line L46 (32.375, -30.25) -> (32.375, -31.625)
  line L47 (32.375, -32.375) -> (32.375, -33.75)
  point P0 (13.7306, -14.0987)
  dimension "d85" = 0.75
  dimension "d86" = 3.5
  dimension "d88" = 1.75
  dimension "d89" = 3.5
  dimension "d90" = 0.75
  dimension "d91" = 1.75
  dimension "d93" = 0.75
  dimension "d94" = 3.5
  dimension "d95" = 3.5
  dimension "d96" = 0.75
  dimension "d97" = 0.75
  dimension "d98" = 3.5
  dimension "d99" = 3.5
  dimension "d100" = 0.75
  dimension "d101" = 0.75
  dimension "d102" = 3.5
  dimension "d103" = 3.5
  dimension "d104" = 0.75
extrude "Wyciągnięcie proste12" cut sketch "Szkic7" against normal blind 2 contours L0 L10 L5 L2 L8 L11 L1 L6 L9 L3 L4 L7 | L12 L22 L17 L14 L20 L23 L13 L18 L21 L15 L16 L19 | L24 L34 L29 L26 L32 L35 L25 L30 L33 L27 L28 L31 | L36 L46 L41 L38 L44 L47 L37 L42 L45 L39 L40 L43
sketch "Szkic8" plane through (15.7963, -22.9013, -10) normal (0, -1, 0) x (1, 0, 0)
  line L0 (5.4731, -6.4) -> (-32.5269, -6.4) projected
  line L1 (5.4731, 0) -> (5.4731, -6.4) projected
  line L2 (0, 0) -> (5.4731, 0) projected
  line L3 (0, 10) -> (0, 0) projected
  line L4 (5.4731, 10) -> (0, 10) projected
  line L5 (5.4731, 18.4) -> (5.4731, 10) projected
  line L6 (-32.5269, 18.4) -> (5.4731, 18.4) projected
  line L7 (-32.5269, 10) -> (-32.5269, 18.4) projected
  line L8 (-27.0538, 10) -> (-32.5269, 10) projected
  line L9 (-27.0538, 0) -> (-27.0538, 10) projected
  line L10 (-32.5269, 0) -> (-27.0538, 0) projected
  line L11 (-32.5269, 0) -> (-32.5269, -6.4) projected
  line L12 (0, 10) -> (5.4731, 10) projected
  line L13 (-27.0538, 10) -> (0, 10)
  line L14 (-17.5269, 10) -> (-9.5269, 10)
  line L15 (-9.5269, 10) -> (-9.5269, 16)
  line L16 (-9.5269, 16) -> (-17.5269, 16)
  line L17 (-17.5269, 16) -> (-17.5269, 10)
  line L18 (-10.5269, 15) -> (-10.5269, 11)
  line L19 (-10.5269, 11) -> (-16.5269, 11)
  line L20 (-16.5269, 11) -> (-16.5269, 15)
  line L21 (-16.5269, 15) -> (-10.5269, 15)
  point P0 (-15.7963, 10)
  dimension "d107" = 8
  dimension "d108" = 6
  dimension "d109" = 38
  dimension "d110" = 15
  dimension "d111" = 1
extrude "Wyciągnięcie proste13" add sketch "Szkic8" along normal blind 1 contours L13 L17 L16 L15
extrude "Wyciągnięcie proste14" cut sketch "Szkic8" against normal blind 2 contours L18 L19 L20 L21
equation "\"d13\" = d12"
equation "\"d14\" = d12"
equation "\"d15\" = d12"
equation "\"d22\" = 0.5 * d21"
equation "\"d23\" = 0.5 * d21"
equation "\"d57\" = d56"
equation "\"d58\" = d56"
equation "\"d59\" = d56"
equation "\"d60\" = d56"
equation "\"d61\" = d56"
equation "\"d62\" = d56"
equation "\"d63\" = d56"
equation "\"d30\" = d29"
equation "\"d31\" = d29"
equation "\"d32\" = d29"
equation "\"d33\" = d31"
equation "\"d34\" = d29"
equation "\"d35\" = d29"
equation "\"d36\" = d29"
equation "\"d88\" = 0.5 * d86"
equation "\"d91\" = d88"
equation "\"d110\" = -0.5 * d107 + 0.5 * d109"
equation "\"d87\" = 0.5 * d85"
equation "\"d92\" = d87"
properties part number "COTS_E3D_NEMA17_Pancake_Stepper_Extruder"
